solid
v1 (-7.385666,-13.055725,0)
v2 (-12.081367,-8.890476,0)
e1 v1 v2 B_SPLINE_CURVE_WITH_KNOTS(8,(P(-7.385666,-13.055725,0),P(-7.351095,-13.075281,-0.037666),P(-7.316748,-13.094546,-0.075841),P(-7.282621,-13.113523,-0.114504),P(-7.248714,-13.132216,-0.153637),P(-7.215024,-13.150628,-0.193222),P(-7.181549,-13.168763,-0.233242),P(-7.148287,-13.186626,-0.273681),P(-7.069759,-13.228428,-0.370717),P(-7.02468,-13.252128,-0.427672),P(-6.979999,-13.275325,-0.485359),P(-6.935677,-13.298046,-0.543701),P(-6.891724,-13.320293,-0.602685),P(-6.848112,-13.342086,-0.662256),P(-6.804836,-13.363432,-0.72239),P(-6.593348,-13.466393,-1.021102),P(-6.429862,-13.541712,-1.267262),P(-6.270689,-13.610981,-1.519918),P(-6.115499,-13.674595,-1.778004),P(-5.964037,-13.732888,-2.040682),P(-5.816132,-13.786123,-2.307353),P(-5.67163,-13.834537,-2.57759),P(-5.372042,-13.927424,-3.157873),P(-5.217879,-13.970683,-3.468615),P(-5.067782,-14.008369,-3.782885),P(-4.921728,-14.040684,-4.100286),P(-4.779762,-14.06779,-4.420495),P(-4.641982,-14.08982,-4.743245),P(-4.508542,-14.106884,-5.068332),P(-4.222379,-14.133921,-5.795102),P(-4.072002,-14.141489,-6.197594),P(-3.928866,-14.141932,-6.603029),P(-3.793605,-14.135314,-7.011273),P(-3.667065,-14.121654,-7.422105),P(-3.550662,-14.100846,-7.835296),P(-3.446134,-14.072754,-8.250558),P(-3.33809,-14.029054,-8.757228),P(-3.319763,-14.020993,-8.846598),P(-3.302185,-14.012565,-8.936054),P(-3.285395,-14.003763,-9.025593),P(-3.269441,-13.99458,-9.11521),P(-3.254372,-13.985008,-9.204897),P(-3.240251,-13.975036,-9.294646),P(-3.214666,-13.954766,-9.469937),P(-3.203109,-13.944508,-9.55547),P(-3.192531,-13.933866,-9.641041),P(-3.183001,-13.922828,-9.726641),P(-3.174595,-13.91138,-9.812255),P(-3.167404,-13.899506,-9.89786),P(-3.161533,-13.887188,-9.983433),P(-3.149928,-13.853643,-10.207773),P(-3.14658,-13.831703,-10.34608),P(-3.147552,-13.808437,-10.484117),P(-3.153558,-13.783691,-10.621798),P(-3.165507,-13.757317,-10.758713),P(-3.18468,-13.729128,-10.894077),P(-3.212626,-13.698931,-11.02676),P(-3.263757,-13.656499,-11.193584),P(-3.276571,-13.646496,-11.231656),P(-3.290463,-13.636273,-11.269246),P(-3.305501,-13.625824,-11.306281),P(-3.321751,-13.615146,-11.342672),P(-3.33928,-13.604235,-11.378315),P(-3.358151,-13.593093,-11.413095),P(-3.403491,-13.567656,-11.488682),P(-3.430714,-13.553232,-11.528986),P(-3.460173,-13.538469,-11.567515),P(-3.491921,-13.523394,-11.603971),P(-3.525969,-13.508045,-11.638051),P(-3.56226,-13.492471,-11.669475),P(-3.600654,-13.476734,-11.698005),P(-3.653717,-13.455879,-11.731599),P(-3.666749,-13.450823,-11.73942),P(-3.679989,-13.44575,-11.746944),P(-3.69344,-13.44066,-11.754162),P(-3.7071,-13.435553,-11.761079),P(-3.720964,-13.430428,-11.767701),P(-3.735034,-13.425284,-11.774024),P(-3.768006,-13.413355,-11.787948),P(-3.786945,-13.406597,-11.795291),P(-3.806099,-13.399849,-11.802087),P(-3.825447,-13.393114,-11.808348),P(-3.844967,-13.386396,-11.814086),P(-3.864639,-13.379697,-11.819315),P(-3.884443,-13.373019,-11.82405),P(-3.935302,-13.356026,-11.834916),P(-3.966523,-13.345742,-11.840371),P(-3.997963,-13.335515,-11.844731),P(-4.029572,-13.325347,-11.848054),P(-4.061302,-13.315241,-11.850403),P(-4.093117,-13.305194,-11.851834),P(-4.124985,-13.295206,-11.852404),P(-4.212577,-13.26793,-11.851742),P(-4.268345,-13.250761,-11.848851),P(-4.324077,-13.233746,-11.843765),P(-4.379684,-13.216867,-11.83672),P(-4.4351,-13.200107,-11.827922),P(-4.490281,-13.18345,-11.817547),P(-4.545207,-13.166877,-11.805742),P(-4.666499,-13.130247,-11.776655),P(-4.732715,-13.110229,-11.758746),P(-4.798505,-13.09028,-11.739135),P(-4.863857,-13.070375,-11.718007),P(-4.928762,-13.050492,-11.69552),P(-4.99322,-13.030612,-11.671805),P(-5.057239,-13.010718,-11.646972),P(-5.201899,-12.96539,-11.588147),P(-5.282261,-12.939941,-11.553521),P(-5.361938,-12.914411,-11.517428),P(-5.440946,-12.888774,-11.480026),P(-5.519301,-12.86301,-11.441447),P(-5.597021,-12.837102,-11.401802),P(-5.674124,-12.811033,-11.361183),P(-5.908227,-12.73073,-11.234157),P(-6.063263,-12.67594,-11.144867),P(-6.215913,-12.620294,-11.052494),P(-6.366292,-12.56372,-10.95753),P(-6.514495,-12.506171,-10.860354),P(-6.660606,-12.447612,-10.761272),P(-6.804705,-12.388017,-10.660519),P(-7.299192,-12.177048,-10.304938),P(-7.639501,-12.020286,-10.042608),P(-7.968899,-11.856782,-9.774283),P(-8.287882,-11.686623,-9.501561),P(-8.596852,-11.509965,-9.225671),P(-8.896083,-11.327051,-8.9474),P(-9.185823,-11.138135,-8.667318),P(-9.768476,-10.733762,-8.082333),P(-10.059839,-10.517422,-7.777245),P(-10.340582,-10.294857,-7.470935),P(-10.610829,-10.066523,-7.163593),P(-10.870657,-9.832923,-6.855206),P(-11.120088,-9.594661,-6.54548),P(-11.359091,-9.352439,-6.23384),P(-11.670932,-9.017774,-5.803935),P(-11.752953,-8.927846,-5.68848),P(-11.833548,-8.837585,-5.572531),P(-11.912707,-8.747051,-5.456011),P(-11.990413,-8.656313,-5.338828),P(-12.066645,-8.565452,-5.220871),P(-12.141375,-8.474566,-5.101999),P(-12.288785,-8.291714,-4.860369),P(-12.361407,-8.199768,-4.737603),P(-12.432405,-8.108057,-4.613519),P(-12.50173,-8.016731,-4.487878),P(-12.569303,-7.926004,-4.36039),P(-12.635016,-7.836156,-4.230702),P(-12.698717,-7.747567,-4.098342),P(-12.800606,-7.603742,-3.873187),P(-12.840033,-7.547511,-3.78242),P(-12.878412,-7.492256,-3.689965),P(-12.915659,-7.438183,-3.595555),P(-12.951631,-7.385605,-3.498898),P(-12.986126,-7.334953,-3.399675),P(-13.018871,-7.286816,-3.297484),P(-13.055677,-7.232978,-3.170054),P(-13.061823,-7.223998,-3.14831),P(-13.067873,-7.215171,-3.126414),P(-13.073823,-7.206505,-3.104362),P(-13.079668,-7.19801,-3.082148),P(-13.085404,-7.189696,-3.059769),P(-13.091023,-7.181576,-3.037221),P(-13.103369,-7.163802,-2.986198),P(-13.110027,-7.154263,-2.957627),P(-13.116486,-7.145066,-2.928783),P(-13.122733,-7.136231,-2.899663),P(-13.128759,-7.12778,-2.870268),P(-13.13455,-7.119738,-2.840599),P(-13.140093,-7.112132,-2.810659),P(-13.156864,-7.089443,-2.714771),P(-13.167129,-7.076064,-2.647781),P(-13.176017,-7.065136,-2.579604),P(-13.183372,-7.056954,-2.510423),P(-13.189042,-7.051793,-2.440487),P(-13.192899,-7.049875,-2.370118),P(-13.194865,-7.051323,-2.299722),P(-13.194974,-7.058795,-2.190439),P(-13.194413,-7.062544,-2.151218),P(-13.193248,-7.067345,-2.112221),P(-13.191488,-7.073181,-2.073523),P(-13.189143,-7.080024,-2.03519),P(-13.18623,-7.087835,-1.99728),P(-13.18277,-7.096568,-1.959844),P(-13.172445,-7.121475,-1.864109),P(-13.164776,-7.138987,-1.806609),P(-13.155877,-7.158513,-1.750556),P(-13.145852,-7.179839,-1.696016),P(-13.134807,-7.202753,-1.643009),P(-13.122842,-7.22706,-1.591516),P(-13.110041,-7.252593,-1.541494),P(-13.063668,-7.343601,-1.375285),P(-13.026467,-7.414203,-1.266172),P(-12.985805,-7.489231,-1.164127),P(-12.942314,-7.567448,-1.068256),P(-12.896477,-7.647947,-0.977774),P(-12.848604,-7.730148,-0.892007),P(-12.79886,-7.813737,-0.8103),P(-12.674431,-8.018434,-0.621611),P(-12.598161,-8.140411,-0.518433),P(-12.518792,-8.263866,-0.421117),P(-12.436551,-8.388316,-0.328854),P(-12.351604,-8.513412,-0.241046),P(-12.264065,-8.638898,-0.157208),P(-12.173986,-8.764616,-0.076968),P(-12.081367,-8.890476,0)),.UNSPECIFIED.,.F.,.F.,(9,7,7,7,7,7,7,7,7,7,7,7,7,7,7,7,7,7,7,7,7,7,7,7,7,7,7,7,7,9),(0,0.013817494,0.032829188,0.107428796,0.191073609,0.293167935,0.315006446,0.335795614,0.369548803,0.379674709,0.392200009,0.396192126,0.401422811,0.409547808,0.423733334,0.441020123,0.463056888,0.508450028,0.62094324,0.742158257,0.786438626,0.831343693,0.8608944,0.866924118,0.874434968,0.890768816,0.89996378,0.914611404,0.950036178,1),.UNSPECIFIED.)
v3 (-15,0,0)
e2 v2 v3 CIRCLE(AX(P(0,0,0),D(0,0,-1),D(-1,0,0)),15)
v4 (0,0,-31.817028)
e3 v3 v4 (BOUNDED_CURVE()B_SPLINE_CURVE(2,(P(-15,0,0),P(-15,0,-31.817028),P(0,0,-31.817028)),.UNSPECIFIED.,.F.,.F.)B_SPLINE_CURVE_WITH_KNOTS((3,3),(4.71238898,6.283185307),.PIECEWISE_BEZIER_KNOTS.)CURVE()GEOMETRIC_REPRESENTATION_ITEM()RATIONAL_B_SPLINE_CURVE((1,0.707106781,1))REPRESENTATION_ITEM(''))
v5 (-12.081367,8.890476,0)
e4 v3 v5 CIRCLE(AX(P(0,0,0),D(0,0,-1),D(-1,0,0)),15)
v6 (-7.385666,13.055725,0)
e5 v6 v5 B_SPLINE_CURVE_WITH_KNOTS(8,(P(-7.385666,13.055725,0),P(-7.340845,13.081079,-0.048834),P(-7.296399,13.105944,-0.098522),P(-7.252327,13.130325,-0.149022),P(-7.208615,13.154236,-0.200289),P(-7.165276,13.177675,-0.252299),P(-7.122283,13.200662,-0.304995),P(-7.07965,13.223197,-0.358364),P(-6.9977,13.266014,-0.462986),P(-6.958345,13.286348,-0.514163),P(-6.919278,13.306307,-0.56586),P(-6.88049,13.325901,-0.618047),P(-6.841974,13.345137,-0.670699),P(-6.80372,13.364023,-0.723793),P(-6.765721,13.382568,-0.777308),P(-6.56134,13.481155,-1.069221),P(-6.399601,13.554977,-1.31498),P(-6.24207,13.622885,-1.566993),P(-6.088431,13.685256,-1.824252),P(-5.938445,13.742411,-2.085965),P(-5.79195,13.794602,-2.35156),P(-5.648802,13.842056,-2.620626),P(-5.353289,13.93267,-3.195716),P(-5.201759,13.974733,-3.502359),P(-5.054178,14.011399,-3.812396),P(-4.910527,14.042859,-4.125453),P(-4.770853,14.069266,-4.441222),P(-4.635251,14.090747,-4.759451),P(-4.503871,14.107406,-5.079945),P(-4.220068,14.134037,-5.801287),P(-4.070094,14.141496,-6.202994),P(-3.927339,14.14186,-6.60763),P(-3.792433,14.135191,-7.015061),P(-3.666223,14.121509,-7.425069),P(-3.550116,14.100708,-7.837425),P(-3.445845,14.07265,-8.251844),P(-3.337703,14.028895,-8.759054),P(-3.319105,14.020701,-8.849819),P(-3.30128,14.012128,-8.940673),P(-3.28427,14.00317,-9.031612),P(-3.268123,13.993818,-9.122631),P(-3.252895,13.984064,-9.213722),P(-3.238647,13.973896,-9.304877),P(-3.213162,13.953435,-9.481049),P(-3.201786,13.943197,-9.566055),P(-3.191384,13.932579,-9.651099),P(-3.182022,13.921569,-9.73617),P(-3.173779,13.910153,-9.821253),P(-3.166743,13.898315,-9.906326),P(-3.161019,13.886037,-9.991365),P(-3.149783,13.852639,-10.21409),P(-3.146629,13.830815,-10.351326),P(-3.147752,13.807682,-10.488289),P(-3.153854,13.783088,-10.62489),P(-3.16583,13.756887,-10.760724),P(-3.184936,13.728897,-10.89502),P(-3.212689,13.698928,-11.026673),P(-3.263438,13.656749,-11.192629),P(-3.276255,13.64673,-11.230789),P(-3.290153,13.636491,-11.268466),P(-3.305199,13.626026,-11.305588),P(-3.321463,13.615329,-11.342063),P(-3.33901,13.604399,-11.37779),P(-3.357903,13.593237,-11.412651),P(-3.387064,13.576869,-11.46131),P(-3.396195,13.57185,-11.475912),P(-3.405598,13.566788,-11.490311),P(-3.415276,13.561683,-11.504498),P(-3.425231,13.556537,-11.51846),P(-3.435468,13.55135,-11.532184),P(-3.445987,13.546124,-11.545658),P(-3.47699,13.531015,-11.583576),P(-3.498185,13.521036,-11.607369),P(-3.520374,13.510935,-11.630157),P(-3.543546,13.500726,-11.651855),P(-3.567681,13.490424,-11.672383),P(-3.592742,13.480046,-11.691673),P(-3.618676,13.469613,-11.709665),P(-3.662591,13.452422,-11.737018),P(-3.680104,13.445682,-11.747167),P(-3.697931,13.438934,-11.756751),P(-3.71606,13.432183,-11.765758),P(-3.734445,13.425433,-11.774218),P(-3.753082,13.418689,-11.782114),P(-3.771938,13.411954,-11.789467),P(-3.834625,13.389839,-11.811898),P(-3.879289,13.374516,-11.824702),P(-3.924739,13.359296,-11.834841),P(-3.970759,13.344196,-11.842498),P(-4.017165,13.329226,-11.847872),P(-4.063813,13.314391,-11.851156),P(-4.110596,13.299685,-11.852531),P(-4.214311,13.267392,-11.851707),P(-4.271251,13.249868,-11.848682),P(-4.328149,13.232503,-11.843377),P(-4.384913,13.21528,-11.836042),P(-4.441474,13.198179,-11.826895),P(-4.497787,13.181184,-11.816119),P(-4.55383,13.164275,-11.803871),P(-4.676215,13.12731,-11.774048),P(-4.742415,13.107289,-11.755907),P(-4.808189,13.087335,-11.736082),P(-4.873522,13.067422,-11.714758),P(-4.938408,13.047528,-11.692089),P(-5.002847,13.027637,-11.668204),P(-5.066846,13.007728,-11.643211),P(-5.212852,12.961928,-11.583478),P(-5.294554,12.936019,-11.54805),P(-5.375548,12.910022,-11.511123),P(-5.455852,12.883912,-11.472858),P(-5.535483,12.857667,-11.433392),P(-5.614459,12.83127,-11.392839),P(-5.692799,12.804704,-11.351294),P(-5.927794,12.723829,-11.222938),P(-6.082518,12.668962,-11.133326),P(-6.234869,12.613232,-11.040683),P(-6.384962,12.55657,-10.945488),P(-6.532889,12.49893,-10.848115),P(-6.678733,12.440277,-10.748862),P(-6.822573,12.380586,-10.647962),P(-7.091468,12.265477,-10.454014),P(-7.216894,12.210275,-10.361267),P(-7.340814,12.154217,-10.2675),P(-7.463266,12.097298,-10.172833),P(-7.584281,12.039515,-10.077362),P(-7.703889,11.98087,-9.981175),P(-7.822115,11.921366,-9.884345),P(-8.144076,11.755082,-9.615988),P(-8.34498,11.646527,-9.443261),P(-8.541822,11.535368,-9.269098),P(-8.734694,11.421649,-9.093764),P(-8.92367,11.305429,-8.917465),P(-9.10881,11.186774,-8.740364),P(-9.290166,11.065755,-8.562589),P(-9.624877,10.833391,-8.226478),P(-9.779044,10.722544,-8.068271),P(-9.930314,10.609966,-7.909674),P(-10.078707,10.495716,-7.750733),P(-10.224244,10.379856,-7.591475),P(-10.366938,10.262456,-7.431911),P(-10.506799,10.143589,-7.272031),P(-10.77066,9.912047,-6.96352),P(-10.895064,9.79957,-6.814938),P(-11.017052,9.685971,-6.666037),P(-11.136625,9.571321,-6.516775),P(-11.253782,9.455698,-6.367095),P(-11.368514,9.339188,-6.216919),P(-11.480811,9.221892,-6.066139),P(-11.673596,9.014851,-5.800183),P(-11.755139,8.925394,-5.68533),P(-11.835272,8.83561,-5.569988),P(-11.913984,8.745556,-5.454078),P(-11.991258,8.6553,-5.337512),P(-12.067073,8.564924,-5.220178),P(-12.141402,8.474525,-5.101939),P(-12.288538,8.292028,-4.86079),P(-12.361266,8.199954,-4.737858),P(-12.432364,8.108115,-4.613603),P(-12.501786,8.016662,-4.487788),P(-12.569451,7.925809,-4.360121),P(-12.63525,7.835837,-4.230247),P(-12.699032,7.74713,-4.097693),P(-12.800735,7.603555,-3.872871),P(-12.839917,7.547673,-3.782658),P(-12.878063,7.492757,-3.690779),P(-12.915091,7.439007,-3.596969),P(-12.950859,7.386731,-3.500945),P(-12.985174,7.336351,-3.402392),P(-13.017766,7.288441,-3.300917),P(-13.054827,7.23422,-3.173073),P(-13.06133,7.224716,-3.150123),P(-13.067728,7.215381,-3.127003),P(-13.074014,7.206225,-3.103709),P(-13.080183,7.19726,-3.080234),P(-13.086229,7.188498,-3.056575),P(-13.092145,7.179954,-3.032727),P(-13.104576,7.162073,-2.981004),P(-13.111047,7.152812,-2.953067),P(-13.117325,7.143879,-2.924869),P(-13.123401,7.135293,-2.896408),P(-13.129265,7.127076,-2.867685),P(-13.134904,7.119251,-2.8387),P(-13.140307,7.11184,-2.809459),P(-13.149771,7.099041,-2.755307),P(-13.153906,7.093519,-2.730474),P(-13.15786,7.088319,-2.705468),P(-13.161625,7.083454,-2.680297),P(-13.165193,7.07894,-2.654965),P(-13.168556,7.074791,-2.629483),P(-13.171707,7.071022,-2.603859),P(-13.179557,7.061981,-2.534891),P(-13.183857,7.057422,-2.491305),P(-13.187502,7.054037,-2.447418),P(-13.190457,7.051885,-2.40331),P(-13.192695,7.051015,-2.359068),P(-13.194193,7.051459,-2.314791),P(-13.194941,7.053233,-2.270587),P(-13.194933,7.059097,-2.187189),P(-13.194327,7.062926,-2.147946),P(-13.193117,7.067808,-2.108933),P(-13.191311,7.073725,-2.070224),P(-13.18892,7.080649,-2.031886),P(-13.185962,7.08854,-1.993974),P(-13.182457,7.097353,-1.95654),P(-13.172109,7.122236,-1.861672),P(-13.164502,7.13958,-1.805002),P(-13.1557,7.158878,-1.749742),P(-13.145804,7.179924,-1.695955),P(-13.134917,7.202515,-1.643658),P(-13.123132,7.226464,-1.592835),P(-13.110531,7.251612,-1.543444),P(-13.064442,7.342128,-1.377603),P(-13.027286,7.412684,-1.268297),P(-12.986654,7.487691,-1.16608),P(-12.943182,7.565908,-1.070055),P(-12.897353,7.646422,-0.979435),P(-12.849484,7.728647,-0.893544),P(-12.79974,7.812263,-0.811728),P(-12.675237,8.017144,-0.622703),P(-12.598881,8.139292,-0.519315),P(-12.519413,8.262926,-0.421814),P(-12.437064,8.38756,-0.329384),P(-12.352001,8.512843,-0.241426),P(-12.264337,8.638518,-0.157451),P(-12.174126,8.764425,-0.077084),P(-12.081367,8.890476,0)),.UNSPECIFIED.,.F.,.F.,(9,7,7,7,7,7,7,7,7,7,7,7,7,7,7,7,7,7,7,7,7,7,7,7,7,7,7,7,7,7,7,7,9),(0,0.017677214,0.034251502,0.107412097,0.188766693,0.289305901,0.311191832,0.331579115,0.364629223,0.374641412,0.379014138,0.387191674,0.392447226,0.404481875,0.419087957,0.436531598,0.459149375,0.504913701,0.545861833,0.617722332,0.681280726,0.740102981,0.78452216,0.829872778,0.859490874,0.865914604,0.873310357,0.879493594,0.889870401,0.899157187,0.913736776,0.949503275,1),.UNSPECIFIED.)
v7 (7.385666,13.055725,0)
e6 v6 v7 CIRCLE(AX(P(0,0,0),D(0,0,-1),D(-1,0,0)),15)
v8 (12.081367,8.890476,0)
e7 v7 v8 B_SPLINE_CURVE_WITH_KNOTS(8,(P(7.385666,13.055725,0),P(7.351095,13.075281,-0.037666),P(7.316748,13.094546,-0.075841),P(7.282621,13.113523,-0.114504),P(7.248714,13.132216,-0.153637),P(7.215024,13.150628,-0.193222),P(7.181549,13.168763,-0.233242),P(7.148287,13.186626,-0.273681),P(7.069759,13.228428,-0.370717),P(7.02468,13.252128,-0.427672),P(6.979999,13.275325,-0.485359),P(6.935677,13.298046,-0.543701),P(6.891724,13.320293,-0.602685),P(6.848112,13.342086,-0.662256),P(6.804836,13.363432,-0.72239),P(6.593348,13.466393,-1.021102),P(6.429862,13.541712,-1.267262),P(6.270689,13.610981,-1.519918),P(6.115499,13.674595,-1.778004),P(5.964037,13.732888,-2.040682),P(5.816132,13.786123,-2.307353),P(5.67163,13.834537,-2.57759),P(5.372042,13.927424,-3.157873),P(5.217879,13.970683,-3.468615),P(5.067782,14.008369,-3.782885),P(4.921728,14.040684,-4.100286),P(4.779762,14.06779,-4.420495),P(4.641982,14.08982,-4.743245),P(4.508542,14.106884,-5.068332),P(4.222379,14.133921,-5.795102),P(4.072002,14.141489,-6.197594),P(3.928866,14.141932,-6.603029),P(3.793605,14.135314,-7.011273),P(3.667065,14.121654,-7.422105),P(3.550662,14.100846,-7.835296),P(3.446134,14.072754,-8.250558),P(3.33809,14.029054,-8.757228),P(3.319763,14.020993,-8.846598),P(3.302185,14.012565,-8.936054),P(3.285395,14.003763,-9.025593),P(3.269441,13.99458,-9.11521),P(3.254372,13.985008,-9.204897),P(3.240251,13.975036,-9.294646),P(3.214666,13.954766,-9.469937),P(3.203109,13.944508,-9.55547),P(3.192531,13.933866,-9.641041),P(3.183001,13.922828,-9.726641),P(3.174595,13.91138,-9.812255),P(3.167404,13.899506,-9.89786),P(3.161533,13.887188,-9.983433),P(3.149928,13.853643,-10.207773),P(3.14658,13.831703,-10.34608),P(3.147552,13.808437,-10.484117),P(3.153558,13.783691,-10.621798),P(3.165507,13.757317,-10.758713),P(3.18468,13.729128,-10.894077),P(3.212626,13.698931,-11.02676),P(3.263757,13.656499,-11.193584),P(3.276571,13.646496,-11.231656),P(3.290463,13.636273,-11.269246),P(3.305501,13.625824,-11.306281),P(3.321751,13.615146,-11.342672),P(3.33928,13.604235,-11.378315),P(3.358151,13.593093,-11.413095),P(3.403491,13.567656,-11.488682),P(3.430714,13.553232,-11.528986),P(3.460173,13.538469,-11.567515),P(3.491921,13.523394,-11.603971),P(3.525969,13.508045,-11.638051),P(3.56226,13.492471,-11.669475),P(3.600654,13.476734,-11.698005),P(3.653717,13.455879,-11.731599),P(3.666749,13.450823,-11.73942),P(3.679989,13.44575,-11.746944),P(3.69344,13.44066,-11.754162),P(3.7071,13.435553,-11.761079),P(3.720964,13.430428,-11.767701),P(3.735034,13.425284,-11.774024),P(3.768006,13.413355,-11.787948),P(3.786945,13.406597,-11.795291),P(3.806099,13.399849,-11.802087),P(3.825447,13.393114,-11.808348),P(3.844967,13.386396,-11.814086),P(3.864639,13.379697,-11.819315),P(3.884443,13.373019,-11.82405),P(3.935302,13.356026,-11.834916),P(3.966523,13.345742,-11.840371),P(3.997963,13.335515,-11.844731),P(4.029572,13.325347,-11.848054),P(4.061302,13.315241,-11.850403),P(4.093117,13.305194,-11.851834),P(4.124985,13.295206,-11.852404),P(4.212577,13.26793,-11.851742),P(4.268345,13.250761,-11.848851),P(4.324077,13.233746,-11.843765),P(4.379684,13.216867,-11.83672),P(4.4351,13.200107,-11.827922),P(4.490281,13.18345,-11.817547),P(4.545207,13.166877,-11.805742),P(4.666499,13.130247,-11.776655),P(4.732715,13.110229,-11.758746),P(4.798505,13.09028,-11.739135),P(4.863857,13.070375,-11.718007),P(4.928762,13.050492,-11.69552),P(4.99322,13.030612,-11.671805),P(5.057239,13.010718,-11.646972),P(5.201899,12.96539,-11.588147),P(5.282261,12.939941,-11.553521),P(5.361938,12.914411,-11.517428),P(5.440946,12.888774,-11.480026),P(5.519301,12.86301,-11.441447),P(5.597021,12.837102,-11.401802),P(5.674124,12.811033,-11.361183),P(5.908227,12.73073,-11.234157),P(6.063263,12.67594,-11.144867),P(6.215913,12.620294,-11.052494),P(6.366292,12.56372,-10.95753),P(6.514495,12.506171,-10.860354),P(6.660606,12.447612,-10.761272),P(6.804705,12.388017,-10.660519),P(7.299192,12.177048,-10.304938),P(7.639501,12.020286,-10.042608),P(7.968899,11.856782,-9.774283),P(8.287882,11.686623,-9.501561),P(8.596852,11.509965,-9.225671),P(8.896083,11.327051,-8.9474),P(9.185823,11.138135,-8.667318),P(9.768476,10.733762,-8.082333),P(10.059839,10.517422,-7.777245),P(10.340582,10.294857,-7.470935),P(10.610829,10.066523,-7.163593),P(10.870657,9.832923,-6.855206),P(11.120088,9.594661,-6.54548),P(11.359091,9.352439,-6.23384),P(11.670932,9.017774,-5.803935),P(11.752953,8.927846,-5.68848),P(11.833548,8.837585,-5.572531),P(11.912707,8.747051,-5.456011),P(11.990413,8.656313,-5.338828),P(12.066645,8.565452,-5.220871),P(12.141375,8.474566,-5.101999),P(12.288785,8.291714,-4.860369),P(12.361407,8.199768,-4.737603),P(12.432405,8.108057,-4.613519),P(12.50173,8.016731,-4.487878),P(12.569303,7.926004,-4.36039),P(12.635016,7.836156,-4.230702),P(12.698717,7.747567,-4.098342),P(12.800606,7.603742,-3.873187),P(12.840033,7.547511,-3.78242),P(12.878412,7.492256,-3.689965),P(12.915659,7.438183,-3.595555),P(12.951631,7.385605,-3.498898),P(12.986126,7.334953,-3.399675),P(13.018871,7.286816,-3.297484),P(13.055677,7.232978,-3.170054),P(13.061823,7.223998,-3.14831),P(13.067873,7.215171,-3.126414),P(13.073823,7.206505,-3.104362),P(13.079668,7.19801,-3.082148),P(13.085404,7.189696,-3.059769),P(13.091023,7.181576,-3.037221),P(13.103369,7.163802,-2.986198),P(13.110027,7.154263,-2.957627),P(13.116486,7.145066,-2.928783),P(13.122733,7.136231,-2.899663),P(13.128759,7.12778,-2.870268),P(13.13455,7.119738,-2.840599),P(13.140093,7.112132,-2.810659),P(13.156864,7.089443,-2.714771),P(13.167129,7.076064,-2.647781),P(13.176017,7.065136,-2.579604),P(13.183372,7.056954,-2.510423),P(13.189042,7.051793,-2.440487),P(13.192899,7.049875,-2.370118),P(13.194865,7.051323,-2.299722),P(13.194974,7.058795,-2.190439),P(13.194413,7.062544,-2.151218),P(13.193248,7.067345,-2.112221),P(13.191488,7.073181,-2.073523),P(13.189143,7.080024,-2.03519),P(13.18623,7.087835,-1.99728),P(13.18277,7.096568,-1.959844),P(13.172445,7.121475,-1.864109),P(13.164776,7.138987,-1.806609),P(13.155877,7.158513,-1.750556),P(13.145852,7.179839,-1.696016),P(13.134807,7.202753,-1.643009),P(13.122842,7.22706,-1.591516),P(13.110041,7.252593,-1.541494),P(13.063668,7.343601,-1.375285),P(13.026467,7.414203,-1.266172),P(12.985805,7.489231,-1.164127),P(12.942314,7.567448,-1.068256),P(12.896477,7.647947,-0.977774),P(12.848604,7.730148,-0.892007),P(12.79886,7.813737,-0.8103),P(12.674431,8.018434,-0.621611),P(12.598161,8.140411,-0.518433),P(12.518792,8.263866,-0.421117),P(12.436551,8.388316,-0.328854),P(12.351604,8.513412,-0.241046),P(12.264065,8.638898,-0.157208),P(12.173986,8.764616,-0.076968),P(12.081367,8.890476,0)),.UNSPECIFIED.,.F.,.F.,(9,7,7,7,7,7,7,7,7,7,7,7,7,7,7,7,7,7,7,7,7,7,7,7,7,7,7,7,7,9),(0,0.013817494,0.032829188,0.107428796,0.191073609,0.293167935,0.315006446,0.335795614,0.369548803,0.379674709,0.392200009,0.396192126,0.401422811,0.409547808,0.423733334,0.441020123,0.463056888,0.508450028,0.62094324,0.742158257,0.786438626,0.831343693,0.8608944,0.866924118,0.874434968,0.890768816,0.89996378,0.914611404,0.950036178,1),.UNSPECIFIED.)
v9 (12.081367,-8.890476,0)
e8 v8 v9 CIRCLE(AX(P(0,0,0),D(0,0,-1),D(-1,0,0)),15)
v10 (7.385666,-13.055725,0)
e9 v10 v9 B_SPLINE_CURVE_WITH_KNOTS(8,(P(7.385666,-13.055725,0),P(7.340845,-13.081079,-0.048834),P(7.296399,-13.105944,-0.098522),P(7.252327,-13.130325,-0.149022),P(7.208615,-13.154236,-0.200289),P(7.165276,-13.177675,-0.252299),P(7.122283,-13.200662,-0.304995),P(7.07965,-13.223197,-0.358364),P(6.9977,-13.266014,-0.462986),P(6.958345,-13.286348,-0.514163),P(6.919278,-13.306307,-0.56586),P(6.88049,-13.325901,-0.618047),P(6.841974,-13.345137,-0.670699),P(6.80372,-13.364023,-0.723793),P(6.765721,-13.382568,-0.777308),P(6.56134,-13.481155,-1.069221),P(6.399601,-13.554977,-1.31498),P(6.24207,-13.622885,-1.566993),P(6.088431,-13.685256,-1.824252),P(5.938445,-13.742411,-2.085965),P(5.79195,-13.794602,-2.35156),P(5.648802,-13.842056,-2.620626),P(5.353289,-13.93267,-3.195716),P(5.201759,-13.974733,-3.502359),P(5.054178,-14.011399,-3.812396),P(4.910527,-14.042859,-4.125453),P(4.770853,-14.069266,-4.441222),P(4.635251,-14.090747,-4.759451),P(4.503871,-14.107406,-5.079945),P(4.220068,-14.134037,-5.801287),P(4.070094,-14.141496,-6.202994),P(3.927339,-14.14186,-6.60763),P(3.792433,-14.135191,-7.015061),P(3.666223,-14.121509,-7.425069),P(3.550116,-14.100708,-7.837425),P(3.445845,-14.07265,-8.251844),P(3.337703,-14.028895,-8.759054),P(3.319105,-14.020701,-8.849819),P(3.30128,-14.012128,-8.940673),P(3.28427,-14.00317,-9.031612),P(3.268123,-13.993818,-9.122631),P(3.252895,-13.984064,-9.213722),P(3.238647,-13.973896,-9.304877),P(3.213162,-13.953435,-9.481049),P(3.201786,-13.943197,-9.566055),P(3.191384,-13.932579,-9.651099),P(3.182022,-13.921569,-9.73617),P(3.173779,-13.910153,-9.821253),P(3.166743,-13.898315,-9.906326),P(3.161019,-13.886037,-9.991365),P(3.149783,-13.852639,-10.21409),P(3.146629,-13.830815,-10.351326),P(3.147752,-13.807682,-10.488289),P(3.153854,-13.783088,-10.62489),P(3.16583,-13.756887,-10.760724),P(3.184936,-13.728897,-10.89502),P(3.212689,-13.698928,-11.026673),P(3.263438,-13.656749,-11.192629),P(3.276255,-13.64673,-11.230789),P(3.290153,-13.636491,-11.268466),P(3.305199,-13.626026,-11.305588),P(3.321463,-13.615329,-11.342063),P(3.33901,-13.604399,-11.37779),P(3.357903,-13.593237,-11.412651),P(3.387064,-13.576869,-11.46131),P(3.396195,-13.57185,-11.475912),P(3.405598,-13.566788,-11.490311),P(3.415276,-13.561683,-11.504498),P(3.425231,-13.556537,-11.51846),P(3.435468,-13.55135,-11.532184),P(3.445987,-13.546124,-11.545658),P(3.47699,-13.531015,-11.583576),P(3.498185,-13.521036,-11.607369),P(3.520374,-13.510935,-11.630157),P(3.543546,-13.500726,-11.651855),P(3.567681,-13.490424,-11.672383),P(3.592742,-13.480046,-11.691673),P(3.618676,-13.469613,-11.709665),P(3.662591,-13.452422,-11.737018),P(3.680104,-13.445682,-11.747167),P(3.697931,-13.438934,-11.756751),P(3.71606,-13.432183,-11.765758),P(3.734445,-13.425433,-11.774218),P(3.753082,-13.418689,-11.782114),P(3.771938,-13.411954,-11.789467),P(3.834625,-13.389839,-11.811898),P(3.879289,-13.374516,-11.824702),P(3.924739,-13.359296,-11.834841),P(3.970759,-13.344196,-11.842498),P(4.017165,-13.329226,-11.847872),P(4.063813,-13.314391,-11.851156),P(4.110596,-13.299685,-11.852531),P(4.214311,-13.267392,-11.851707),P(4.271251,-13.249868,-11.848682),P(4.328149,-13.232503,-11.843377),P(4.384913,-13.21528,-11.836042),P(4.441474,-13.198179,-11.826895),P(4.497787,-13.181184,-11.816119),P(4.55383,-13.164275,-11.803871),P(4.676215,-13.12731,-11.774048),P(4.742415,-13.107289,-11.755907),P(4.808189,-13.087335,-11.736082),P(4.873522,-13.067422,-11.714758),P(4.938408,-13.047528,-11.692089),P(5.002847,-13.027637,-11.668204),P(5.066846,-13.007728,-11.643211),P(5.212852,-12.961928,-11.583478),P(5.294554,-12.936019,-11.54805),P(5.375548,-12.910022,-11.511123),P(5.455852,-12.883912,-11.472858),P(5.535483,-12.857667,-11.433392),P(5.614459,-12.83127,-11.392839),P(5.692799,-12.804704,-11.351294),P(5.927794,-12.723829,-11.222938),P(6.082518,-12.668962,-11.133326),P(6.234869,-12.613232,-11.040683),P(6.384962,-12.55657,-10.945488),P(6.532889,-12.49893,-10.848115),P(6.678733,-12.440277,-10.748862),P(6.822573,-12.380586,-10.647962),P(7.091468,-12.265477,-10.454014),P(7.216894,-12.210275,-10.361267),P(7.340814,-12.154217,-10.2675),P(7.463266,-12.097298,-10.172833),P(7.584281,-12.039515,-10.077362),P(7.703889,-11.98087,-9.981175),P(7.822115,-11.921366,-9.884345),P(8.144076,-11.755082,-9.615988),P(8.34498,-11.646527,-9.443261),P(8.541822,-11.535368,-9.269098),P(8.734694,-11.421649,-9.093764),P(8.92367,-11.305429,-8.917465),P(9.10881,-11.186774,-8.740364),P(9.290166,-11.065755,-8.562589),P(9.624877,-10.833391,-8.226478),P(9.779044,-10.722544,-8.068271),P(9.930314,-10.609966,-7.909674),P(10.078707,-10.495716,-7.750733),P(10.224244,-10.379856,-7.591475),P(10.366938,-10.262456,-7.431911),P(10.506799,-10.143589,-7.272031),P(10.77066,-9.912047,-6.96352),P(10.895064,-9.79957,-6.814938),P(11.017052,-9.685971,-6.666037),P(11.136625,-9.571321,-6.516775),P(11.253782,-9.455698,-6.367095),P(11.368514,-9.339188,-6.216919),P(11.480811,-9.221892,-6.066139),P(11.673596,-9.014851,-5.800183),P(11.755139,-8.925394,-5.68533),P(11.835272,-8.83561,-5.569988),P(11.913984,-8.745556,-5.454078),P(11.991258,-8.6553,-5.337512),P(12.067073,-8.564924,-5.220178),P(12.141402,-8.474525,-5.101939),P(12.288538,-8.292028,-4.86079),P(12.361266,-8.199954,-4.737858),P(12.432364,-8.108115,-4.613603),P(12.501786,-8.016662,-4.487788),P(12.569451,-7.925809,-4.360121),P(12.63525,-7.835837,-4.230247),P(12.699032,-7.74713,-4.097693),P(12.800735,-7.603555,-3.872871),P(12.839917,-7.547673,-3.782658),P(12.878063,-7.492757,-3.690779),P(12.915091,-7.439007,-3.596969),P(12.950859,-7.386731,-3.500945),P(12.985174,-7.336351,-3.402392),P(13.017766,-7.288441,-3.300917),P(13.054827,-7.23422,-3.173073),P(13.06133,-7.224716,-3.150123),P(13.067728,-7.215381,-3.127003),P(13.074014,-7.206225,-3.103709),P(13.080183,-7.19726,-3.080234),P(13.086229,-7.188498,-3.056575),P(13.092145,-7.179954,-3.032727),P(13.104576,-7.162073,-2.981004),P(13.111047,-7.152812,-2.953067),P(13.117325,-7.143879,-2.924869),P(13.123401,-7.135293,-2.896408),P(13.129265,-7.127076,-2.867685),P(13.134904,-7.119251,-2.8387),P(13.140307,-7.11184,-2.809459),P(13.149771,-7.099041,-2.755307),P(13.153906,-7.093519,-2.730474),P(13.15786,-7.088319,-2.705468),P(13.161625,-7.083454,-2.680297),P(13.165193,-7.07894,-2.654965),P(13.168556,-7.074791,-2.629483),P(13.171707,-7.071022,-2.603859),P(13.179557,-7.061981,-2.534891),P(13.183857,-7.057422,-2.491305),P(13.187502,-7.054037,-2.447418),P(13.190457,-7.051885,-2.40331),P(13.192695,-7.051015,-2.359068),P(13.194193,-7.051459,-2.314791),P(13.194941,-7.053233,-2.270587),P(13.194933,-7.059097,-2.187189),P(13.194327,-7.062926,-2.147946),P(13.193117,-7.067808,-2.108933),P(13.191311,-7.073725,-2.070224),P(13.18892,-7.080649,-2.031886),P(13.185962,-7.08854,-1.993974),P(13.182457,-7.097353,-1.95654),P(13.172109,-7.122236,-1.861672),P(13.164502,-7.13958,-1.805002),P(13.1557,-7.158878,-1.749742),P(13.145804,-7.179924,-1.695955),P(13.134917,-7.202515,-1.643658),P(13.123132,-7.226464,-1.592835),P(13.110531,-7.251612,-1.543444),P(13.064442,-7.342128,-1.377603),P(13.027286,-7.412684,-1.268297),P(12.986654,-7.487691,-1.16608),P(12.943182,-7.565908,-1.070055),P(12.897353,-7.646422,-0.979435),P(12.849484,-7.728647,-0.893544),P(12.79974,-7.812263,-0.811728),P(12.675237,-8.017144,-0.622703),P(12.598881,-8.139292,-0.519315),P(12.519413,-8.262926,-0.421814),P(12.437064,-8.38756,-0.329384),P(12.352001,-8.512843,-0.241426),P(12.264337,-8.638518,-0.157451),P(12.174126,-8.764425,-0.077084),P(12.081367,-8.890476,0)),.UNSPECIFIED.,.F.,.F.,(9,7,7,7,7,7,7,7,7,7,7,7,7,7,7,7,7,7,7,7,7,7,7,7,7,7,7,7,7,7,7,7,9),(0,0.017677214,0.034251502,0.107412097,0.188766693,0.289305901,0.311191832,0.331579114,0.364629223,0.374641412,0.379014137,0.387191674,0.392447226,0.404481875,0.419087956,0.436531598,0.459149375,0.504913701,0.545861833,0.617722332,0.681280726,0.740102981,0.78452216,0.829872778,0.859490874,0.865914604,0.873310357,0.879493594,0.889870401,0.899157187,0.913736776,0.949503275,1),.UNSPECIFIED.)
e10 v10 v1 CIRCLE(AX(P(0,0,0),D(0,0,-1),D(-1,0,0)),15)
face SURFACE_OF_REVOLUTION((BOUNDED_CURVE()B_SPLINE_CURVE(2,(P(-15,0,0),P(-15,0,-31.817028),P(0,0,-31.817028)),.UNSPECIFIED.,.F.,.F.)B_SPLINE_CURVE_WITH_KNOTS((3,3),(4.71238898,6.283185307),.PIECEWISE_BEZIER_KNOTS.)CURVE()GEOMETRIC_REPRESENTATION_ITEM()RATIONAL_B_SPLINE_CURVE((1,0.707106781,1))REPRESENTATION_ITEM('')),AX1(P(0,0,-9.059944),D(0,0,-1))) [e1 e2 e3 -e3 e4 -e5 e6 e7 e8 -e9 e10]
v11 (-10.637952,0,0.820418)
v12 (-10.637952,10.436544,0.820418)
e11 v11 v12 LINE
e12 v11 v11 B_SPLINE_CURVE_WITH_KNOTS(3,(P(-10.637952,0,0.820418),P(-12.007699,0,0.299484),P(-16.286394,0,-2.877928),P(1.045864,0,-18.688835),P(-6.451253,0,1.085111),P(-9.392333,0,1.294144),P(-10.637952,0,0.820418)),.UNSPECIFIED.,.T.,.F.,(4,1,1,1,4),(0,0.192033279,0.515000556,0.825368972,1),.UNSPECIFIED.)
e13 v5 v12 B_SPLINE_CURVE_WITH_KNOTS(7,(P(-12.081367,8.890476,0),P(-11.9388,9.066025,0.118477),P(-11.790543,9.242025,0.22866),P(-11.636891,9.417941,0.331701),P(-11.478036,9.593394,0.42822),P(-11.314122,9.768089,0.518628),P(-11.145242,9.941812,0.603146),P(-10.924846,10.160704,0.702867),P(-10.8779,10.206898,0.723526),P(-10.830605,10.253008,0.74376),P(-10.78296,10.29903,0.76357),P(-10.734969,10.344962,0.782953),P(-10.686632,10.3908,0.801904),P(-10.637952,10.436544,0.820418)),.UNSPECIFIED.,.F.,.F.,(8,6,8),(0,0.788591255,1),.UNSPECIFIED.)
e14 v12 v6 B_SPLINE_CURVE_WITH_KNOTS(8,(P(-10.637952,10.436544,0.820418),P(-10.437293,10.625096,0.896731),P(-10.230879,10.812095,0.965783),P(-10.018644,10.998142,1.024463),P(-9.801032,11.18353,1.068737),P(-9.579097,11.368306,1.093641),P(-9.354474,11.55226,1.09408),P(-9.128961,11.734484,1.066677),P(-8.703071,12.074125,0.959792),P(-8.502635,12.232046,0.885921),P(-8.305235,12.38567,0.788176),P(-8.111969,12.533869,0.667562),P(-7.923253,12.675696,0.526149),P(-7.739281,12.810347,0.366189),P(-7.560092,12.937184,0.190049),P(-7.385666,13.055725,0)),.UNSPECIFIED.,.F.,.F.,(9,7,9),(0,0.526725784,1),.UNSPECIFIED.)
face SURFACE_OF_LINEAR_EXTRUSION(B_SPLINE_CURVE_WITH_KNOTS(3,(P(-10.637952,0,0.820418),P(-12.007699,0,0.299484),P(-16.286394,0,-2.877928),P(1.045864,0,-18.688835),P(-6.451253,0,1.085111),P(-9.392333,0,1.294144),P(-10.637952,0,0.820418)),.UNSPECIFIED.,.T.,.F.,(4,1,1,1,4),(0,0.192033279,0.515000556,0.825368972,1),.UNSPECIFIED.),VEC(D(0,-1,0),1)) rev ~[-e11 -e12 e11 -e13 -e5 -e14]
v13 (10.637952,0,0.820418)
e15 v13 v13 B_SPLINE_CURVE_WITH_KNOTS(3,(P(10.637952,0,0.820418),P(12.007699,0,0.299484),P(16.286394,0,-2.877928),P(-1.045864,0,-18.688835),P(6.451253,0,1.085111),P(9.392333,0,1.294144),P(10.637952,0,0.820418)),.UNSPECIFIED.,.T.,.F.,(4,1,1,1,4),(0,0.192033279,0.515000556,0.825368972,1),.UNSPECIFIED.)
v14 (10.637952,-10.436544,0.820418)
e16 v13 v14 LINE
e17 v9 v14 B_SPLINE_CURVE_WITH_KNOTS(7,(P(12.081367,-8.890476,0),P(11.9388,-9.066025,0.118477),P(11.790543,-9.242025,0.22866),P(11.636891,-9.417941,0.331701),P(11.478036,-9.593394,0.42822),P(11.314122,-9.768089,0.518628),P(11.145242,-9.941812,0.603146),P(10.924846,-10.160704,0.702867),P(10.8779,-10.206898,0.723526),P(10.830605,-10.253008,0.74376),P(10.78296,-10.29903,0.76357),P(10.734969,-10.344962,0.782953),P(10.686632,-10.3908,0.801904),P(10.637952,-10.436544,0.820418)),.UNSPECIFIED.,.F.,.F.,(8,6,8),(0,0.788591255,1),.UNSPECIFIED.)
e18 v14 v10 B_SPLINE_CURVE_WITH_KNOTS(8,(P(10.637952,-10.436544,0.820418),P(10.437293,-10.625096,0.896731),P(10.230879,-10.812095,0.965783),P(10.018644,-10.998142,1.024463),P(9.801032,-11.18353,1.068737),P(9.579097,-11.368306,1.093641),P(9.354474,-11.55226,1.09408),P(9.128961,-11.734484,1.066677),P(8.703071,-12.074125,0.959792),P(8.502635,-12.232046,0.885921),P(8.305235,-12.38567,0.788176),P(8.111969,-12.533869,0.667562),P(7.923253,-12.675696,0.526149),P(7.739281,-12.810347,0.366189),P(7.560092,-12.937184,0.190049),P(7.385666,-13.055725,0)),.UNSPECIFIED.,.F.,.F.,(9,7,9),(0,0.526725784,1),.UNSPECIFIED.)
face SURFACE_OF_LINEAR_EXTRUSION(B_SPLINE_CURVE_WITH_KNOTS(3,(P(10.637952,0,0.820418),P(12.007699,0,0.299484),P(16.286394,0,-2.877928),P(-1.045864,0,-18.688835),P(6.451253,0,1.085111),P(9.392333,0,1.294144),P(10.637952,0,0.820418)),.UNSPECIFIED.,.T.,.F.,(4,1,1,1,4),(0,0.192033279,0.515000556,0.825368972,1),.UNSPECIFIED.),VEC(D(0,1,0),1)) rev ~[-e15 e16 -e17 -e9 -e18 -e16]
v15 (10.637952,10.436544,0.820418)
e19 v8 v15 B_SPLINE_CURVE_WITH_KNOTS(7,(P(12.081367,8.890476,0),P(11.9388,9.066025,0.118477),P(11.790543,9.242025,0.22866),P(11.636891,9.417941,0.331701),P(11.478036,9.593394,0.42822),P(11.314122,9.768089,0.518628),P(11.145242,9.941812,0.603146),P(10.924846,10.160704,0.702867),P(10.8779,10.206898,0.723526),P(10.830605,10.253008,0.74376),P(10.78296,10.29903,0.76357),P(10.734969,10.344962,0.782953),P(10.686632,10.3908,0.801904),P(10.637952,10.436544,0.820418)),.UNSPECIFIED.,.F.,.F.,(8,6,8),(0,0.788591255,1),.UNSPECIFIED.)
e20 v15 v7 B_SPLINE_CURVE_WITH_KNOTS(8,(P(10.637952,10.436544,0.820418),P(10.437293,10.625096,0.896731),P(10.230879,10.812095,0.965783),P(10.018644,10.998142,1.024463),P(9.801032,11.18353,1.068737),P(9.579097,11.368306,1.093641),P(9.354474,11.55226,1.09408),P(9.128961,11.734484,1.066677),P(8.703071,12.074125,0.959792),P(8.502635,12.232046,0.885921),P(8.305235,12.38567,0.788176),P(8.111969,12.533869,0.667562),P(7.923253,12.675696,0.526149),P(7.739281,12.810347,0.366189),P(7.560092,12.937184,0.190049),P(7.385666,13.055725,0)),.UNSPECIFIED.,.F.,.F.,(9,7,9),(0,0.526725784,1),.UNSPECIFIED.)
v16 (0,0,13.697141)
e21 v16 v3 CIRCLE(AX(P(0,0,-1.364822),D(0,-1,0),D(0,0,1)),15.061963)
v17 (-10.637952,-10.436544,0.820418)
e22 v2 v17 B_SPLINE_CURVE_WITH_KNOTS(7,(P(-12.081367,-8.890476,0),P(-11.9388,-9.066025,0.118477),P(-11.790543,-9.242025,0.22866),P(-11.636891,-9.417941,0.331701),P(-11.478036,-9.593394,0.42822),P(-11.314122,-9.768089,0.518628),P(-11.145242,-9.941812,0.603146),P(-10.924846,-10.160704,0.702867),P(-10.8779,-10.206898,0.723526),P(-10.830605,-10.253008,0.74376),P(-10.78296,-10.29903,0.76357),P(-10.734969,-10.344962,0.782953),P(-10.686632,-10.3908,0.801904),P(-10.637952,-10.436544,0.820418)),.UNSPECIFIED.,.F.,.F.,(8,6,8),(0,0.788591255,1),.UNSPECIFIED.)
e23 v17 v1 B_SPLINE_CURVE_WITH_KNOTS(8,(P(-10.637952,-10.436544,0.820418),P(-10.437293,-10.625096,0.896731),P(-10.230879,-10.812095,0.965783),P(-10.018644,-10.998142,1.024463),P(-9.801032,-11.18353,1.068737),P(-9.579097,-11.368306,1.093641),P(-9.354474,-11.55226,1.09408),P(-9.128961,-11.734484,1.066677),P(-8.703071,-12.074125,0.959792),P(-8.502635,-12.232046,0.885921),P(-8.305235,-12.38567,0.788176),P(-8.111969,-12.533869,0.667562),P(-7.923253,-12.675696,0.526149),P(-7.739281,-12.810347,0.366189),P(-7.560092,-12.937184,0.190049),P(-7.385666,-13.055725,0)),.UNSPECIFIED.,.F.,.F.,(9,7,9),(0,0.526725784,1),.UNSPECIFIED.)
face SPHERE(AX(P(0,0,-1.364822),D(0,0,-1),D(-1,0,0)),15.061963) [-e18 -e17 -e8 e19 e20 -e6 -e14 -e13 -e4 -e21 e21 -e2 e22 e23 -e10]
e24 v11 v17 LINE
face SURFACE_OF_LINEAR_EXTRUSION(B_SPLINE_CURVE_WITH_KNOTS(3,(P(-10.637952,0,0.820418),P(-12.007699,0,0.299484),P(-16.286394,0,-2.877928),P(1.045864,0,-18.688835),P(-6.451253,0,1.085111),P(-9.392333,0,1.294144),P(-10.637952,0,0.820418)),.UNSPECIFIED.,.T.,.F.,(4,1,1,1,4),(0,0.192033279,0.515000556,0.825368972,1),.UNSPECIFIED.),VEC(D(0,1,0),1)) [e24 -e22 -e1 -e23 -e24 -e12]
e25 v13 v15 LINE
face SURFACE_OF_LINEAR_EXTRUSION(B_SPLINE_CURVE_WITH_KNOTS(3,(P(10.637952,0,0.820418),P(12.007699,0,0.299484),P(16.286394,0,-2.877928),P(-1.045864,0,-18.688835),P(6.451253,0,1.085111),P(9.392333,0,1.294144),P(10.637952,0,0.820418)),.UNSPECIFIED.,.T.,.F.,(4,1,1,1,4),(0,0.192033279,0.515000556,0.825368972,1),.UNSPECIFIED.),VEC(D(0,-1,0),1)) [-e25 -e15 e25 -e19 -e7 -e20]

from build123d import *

# Parameters (mm, degrees)
F3_DEPTH = 20


with BuildPart() as f1:
    # F0 (on Front) → F1 (revolve)
    with BuildSketch(Plane.XZ):
        with BuildLine():
            ThreePointArc((0, 13.6971411755), (-10.156422554, 9.7576694865), (-15, 0))
            Line((-15, 0), (0, 0))
            Line((0, 0), (0, 13.6971411755))
        make_face()
        with BuildLine():
            Line((0, 0), (-15, 0))
            add(Edge.make_bspline(
                [(-15, 0), (-15, -31.8170283027), (0, -31.8170283027)],
                knots=[4.7123889804, 4.7123889804, 4.7123889804, 6.2831853072, 6.2831853072, 6.2831853072], degree=2, weights=[1, 0.7071067812, 1]))
            Line((0, -31.8170283027), (0, 0))
        make_face()
    revolve(axis=Axis((0, 0, -9.0599435636), (0, 0, -1)))

    # F2 (on Front) → F3 (cut, symmetric)
    with BuildSketch(Plane.XZ):
        with BuildLine():
            add(Edge.make_bspline(
                [(-10.6379520148, 0.8204176556), (-12.0076986222, 0.2994839518), (-16.2863935346, -2.8779283284), (1.0458636047, -18.6888347454), (-6.4512532793, 1.0851106393), (-9.3923332415, 1.2941438161), (-10.6379520148, 0.8204176556)],
                knots=[0, 0, 0, 0, 0.1920332795, 0.5150005556, 0.8253689721, 1, 1, 1, 1], degree=3))
        make_face()
        with BuildLine():
            add(Edge.make_bspline(
                [(10.6379520148, 0.8204176556), (12.0076986222, 0.2994839518), (16.2863935346, -2.8779283284), (-1.0458636047, -18.6888347454), (6.4512532793, 1.0851106393), (9.3923332415, 1.2941438161), (10.6379520148, 0.8204176556)],
                knots=[0, 0, 0, 0, 0.1920332795, 0.5150005556, 0.8253689721, 1, 1, 1, 1], degree=3))
        make_face()
    extrude(amount=F3_DEPTH, both=True, mode=Mode.SUBTRACT)


solid = f1.part
